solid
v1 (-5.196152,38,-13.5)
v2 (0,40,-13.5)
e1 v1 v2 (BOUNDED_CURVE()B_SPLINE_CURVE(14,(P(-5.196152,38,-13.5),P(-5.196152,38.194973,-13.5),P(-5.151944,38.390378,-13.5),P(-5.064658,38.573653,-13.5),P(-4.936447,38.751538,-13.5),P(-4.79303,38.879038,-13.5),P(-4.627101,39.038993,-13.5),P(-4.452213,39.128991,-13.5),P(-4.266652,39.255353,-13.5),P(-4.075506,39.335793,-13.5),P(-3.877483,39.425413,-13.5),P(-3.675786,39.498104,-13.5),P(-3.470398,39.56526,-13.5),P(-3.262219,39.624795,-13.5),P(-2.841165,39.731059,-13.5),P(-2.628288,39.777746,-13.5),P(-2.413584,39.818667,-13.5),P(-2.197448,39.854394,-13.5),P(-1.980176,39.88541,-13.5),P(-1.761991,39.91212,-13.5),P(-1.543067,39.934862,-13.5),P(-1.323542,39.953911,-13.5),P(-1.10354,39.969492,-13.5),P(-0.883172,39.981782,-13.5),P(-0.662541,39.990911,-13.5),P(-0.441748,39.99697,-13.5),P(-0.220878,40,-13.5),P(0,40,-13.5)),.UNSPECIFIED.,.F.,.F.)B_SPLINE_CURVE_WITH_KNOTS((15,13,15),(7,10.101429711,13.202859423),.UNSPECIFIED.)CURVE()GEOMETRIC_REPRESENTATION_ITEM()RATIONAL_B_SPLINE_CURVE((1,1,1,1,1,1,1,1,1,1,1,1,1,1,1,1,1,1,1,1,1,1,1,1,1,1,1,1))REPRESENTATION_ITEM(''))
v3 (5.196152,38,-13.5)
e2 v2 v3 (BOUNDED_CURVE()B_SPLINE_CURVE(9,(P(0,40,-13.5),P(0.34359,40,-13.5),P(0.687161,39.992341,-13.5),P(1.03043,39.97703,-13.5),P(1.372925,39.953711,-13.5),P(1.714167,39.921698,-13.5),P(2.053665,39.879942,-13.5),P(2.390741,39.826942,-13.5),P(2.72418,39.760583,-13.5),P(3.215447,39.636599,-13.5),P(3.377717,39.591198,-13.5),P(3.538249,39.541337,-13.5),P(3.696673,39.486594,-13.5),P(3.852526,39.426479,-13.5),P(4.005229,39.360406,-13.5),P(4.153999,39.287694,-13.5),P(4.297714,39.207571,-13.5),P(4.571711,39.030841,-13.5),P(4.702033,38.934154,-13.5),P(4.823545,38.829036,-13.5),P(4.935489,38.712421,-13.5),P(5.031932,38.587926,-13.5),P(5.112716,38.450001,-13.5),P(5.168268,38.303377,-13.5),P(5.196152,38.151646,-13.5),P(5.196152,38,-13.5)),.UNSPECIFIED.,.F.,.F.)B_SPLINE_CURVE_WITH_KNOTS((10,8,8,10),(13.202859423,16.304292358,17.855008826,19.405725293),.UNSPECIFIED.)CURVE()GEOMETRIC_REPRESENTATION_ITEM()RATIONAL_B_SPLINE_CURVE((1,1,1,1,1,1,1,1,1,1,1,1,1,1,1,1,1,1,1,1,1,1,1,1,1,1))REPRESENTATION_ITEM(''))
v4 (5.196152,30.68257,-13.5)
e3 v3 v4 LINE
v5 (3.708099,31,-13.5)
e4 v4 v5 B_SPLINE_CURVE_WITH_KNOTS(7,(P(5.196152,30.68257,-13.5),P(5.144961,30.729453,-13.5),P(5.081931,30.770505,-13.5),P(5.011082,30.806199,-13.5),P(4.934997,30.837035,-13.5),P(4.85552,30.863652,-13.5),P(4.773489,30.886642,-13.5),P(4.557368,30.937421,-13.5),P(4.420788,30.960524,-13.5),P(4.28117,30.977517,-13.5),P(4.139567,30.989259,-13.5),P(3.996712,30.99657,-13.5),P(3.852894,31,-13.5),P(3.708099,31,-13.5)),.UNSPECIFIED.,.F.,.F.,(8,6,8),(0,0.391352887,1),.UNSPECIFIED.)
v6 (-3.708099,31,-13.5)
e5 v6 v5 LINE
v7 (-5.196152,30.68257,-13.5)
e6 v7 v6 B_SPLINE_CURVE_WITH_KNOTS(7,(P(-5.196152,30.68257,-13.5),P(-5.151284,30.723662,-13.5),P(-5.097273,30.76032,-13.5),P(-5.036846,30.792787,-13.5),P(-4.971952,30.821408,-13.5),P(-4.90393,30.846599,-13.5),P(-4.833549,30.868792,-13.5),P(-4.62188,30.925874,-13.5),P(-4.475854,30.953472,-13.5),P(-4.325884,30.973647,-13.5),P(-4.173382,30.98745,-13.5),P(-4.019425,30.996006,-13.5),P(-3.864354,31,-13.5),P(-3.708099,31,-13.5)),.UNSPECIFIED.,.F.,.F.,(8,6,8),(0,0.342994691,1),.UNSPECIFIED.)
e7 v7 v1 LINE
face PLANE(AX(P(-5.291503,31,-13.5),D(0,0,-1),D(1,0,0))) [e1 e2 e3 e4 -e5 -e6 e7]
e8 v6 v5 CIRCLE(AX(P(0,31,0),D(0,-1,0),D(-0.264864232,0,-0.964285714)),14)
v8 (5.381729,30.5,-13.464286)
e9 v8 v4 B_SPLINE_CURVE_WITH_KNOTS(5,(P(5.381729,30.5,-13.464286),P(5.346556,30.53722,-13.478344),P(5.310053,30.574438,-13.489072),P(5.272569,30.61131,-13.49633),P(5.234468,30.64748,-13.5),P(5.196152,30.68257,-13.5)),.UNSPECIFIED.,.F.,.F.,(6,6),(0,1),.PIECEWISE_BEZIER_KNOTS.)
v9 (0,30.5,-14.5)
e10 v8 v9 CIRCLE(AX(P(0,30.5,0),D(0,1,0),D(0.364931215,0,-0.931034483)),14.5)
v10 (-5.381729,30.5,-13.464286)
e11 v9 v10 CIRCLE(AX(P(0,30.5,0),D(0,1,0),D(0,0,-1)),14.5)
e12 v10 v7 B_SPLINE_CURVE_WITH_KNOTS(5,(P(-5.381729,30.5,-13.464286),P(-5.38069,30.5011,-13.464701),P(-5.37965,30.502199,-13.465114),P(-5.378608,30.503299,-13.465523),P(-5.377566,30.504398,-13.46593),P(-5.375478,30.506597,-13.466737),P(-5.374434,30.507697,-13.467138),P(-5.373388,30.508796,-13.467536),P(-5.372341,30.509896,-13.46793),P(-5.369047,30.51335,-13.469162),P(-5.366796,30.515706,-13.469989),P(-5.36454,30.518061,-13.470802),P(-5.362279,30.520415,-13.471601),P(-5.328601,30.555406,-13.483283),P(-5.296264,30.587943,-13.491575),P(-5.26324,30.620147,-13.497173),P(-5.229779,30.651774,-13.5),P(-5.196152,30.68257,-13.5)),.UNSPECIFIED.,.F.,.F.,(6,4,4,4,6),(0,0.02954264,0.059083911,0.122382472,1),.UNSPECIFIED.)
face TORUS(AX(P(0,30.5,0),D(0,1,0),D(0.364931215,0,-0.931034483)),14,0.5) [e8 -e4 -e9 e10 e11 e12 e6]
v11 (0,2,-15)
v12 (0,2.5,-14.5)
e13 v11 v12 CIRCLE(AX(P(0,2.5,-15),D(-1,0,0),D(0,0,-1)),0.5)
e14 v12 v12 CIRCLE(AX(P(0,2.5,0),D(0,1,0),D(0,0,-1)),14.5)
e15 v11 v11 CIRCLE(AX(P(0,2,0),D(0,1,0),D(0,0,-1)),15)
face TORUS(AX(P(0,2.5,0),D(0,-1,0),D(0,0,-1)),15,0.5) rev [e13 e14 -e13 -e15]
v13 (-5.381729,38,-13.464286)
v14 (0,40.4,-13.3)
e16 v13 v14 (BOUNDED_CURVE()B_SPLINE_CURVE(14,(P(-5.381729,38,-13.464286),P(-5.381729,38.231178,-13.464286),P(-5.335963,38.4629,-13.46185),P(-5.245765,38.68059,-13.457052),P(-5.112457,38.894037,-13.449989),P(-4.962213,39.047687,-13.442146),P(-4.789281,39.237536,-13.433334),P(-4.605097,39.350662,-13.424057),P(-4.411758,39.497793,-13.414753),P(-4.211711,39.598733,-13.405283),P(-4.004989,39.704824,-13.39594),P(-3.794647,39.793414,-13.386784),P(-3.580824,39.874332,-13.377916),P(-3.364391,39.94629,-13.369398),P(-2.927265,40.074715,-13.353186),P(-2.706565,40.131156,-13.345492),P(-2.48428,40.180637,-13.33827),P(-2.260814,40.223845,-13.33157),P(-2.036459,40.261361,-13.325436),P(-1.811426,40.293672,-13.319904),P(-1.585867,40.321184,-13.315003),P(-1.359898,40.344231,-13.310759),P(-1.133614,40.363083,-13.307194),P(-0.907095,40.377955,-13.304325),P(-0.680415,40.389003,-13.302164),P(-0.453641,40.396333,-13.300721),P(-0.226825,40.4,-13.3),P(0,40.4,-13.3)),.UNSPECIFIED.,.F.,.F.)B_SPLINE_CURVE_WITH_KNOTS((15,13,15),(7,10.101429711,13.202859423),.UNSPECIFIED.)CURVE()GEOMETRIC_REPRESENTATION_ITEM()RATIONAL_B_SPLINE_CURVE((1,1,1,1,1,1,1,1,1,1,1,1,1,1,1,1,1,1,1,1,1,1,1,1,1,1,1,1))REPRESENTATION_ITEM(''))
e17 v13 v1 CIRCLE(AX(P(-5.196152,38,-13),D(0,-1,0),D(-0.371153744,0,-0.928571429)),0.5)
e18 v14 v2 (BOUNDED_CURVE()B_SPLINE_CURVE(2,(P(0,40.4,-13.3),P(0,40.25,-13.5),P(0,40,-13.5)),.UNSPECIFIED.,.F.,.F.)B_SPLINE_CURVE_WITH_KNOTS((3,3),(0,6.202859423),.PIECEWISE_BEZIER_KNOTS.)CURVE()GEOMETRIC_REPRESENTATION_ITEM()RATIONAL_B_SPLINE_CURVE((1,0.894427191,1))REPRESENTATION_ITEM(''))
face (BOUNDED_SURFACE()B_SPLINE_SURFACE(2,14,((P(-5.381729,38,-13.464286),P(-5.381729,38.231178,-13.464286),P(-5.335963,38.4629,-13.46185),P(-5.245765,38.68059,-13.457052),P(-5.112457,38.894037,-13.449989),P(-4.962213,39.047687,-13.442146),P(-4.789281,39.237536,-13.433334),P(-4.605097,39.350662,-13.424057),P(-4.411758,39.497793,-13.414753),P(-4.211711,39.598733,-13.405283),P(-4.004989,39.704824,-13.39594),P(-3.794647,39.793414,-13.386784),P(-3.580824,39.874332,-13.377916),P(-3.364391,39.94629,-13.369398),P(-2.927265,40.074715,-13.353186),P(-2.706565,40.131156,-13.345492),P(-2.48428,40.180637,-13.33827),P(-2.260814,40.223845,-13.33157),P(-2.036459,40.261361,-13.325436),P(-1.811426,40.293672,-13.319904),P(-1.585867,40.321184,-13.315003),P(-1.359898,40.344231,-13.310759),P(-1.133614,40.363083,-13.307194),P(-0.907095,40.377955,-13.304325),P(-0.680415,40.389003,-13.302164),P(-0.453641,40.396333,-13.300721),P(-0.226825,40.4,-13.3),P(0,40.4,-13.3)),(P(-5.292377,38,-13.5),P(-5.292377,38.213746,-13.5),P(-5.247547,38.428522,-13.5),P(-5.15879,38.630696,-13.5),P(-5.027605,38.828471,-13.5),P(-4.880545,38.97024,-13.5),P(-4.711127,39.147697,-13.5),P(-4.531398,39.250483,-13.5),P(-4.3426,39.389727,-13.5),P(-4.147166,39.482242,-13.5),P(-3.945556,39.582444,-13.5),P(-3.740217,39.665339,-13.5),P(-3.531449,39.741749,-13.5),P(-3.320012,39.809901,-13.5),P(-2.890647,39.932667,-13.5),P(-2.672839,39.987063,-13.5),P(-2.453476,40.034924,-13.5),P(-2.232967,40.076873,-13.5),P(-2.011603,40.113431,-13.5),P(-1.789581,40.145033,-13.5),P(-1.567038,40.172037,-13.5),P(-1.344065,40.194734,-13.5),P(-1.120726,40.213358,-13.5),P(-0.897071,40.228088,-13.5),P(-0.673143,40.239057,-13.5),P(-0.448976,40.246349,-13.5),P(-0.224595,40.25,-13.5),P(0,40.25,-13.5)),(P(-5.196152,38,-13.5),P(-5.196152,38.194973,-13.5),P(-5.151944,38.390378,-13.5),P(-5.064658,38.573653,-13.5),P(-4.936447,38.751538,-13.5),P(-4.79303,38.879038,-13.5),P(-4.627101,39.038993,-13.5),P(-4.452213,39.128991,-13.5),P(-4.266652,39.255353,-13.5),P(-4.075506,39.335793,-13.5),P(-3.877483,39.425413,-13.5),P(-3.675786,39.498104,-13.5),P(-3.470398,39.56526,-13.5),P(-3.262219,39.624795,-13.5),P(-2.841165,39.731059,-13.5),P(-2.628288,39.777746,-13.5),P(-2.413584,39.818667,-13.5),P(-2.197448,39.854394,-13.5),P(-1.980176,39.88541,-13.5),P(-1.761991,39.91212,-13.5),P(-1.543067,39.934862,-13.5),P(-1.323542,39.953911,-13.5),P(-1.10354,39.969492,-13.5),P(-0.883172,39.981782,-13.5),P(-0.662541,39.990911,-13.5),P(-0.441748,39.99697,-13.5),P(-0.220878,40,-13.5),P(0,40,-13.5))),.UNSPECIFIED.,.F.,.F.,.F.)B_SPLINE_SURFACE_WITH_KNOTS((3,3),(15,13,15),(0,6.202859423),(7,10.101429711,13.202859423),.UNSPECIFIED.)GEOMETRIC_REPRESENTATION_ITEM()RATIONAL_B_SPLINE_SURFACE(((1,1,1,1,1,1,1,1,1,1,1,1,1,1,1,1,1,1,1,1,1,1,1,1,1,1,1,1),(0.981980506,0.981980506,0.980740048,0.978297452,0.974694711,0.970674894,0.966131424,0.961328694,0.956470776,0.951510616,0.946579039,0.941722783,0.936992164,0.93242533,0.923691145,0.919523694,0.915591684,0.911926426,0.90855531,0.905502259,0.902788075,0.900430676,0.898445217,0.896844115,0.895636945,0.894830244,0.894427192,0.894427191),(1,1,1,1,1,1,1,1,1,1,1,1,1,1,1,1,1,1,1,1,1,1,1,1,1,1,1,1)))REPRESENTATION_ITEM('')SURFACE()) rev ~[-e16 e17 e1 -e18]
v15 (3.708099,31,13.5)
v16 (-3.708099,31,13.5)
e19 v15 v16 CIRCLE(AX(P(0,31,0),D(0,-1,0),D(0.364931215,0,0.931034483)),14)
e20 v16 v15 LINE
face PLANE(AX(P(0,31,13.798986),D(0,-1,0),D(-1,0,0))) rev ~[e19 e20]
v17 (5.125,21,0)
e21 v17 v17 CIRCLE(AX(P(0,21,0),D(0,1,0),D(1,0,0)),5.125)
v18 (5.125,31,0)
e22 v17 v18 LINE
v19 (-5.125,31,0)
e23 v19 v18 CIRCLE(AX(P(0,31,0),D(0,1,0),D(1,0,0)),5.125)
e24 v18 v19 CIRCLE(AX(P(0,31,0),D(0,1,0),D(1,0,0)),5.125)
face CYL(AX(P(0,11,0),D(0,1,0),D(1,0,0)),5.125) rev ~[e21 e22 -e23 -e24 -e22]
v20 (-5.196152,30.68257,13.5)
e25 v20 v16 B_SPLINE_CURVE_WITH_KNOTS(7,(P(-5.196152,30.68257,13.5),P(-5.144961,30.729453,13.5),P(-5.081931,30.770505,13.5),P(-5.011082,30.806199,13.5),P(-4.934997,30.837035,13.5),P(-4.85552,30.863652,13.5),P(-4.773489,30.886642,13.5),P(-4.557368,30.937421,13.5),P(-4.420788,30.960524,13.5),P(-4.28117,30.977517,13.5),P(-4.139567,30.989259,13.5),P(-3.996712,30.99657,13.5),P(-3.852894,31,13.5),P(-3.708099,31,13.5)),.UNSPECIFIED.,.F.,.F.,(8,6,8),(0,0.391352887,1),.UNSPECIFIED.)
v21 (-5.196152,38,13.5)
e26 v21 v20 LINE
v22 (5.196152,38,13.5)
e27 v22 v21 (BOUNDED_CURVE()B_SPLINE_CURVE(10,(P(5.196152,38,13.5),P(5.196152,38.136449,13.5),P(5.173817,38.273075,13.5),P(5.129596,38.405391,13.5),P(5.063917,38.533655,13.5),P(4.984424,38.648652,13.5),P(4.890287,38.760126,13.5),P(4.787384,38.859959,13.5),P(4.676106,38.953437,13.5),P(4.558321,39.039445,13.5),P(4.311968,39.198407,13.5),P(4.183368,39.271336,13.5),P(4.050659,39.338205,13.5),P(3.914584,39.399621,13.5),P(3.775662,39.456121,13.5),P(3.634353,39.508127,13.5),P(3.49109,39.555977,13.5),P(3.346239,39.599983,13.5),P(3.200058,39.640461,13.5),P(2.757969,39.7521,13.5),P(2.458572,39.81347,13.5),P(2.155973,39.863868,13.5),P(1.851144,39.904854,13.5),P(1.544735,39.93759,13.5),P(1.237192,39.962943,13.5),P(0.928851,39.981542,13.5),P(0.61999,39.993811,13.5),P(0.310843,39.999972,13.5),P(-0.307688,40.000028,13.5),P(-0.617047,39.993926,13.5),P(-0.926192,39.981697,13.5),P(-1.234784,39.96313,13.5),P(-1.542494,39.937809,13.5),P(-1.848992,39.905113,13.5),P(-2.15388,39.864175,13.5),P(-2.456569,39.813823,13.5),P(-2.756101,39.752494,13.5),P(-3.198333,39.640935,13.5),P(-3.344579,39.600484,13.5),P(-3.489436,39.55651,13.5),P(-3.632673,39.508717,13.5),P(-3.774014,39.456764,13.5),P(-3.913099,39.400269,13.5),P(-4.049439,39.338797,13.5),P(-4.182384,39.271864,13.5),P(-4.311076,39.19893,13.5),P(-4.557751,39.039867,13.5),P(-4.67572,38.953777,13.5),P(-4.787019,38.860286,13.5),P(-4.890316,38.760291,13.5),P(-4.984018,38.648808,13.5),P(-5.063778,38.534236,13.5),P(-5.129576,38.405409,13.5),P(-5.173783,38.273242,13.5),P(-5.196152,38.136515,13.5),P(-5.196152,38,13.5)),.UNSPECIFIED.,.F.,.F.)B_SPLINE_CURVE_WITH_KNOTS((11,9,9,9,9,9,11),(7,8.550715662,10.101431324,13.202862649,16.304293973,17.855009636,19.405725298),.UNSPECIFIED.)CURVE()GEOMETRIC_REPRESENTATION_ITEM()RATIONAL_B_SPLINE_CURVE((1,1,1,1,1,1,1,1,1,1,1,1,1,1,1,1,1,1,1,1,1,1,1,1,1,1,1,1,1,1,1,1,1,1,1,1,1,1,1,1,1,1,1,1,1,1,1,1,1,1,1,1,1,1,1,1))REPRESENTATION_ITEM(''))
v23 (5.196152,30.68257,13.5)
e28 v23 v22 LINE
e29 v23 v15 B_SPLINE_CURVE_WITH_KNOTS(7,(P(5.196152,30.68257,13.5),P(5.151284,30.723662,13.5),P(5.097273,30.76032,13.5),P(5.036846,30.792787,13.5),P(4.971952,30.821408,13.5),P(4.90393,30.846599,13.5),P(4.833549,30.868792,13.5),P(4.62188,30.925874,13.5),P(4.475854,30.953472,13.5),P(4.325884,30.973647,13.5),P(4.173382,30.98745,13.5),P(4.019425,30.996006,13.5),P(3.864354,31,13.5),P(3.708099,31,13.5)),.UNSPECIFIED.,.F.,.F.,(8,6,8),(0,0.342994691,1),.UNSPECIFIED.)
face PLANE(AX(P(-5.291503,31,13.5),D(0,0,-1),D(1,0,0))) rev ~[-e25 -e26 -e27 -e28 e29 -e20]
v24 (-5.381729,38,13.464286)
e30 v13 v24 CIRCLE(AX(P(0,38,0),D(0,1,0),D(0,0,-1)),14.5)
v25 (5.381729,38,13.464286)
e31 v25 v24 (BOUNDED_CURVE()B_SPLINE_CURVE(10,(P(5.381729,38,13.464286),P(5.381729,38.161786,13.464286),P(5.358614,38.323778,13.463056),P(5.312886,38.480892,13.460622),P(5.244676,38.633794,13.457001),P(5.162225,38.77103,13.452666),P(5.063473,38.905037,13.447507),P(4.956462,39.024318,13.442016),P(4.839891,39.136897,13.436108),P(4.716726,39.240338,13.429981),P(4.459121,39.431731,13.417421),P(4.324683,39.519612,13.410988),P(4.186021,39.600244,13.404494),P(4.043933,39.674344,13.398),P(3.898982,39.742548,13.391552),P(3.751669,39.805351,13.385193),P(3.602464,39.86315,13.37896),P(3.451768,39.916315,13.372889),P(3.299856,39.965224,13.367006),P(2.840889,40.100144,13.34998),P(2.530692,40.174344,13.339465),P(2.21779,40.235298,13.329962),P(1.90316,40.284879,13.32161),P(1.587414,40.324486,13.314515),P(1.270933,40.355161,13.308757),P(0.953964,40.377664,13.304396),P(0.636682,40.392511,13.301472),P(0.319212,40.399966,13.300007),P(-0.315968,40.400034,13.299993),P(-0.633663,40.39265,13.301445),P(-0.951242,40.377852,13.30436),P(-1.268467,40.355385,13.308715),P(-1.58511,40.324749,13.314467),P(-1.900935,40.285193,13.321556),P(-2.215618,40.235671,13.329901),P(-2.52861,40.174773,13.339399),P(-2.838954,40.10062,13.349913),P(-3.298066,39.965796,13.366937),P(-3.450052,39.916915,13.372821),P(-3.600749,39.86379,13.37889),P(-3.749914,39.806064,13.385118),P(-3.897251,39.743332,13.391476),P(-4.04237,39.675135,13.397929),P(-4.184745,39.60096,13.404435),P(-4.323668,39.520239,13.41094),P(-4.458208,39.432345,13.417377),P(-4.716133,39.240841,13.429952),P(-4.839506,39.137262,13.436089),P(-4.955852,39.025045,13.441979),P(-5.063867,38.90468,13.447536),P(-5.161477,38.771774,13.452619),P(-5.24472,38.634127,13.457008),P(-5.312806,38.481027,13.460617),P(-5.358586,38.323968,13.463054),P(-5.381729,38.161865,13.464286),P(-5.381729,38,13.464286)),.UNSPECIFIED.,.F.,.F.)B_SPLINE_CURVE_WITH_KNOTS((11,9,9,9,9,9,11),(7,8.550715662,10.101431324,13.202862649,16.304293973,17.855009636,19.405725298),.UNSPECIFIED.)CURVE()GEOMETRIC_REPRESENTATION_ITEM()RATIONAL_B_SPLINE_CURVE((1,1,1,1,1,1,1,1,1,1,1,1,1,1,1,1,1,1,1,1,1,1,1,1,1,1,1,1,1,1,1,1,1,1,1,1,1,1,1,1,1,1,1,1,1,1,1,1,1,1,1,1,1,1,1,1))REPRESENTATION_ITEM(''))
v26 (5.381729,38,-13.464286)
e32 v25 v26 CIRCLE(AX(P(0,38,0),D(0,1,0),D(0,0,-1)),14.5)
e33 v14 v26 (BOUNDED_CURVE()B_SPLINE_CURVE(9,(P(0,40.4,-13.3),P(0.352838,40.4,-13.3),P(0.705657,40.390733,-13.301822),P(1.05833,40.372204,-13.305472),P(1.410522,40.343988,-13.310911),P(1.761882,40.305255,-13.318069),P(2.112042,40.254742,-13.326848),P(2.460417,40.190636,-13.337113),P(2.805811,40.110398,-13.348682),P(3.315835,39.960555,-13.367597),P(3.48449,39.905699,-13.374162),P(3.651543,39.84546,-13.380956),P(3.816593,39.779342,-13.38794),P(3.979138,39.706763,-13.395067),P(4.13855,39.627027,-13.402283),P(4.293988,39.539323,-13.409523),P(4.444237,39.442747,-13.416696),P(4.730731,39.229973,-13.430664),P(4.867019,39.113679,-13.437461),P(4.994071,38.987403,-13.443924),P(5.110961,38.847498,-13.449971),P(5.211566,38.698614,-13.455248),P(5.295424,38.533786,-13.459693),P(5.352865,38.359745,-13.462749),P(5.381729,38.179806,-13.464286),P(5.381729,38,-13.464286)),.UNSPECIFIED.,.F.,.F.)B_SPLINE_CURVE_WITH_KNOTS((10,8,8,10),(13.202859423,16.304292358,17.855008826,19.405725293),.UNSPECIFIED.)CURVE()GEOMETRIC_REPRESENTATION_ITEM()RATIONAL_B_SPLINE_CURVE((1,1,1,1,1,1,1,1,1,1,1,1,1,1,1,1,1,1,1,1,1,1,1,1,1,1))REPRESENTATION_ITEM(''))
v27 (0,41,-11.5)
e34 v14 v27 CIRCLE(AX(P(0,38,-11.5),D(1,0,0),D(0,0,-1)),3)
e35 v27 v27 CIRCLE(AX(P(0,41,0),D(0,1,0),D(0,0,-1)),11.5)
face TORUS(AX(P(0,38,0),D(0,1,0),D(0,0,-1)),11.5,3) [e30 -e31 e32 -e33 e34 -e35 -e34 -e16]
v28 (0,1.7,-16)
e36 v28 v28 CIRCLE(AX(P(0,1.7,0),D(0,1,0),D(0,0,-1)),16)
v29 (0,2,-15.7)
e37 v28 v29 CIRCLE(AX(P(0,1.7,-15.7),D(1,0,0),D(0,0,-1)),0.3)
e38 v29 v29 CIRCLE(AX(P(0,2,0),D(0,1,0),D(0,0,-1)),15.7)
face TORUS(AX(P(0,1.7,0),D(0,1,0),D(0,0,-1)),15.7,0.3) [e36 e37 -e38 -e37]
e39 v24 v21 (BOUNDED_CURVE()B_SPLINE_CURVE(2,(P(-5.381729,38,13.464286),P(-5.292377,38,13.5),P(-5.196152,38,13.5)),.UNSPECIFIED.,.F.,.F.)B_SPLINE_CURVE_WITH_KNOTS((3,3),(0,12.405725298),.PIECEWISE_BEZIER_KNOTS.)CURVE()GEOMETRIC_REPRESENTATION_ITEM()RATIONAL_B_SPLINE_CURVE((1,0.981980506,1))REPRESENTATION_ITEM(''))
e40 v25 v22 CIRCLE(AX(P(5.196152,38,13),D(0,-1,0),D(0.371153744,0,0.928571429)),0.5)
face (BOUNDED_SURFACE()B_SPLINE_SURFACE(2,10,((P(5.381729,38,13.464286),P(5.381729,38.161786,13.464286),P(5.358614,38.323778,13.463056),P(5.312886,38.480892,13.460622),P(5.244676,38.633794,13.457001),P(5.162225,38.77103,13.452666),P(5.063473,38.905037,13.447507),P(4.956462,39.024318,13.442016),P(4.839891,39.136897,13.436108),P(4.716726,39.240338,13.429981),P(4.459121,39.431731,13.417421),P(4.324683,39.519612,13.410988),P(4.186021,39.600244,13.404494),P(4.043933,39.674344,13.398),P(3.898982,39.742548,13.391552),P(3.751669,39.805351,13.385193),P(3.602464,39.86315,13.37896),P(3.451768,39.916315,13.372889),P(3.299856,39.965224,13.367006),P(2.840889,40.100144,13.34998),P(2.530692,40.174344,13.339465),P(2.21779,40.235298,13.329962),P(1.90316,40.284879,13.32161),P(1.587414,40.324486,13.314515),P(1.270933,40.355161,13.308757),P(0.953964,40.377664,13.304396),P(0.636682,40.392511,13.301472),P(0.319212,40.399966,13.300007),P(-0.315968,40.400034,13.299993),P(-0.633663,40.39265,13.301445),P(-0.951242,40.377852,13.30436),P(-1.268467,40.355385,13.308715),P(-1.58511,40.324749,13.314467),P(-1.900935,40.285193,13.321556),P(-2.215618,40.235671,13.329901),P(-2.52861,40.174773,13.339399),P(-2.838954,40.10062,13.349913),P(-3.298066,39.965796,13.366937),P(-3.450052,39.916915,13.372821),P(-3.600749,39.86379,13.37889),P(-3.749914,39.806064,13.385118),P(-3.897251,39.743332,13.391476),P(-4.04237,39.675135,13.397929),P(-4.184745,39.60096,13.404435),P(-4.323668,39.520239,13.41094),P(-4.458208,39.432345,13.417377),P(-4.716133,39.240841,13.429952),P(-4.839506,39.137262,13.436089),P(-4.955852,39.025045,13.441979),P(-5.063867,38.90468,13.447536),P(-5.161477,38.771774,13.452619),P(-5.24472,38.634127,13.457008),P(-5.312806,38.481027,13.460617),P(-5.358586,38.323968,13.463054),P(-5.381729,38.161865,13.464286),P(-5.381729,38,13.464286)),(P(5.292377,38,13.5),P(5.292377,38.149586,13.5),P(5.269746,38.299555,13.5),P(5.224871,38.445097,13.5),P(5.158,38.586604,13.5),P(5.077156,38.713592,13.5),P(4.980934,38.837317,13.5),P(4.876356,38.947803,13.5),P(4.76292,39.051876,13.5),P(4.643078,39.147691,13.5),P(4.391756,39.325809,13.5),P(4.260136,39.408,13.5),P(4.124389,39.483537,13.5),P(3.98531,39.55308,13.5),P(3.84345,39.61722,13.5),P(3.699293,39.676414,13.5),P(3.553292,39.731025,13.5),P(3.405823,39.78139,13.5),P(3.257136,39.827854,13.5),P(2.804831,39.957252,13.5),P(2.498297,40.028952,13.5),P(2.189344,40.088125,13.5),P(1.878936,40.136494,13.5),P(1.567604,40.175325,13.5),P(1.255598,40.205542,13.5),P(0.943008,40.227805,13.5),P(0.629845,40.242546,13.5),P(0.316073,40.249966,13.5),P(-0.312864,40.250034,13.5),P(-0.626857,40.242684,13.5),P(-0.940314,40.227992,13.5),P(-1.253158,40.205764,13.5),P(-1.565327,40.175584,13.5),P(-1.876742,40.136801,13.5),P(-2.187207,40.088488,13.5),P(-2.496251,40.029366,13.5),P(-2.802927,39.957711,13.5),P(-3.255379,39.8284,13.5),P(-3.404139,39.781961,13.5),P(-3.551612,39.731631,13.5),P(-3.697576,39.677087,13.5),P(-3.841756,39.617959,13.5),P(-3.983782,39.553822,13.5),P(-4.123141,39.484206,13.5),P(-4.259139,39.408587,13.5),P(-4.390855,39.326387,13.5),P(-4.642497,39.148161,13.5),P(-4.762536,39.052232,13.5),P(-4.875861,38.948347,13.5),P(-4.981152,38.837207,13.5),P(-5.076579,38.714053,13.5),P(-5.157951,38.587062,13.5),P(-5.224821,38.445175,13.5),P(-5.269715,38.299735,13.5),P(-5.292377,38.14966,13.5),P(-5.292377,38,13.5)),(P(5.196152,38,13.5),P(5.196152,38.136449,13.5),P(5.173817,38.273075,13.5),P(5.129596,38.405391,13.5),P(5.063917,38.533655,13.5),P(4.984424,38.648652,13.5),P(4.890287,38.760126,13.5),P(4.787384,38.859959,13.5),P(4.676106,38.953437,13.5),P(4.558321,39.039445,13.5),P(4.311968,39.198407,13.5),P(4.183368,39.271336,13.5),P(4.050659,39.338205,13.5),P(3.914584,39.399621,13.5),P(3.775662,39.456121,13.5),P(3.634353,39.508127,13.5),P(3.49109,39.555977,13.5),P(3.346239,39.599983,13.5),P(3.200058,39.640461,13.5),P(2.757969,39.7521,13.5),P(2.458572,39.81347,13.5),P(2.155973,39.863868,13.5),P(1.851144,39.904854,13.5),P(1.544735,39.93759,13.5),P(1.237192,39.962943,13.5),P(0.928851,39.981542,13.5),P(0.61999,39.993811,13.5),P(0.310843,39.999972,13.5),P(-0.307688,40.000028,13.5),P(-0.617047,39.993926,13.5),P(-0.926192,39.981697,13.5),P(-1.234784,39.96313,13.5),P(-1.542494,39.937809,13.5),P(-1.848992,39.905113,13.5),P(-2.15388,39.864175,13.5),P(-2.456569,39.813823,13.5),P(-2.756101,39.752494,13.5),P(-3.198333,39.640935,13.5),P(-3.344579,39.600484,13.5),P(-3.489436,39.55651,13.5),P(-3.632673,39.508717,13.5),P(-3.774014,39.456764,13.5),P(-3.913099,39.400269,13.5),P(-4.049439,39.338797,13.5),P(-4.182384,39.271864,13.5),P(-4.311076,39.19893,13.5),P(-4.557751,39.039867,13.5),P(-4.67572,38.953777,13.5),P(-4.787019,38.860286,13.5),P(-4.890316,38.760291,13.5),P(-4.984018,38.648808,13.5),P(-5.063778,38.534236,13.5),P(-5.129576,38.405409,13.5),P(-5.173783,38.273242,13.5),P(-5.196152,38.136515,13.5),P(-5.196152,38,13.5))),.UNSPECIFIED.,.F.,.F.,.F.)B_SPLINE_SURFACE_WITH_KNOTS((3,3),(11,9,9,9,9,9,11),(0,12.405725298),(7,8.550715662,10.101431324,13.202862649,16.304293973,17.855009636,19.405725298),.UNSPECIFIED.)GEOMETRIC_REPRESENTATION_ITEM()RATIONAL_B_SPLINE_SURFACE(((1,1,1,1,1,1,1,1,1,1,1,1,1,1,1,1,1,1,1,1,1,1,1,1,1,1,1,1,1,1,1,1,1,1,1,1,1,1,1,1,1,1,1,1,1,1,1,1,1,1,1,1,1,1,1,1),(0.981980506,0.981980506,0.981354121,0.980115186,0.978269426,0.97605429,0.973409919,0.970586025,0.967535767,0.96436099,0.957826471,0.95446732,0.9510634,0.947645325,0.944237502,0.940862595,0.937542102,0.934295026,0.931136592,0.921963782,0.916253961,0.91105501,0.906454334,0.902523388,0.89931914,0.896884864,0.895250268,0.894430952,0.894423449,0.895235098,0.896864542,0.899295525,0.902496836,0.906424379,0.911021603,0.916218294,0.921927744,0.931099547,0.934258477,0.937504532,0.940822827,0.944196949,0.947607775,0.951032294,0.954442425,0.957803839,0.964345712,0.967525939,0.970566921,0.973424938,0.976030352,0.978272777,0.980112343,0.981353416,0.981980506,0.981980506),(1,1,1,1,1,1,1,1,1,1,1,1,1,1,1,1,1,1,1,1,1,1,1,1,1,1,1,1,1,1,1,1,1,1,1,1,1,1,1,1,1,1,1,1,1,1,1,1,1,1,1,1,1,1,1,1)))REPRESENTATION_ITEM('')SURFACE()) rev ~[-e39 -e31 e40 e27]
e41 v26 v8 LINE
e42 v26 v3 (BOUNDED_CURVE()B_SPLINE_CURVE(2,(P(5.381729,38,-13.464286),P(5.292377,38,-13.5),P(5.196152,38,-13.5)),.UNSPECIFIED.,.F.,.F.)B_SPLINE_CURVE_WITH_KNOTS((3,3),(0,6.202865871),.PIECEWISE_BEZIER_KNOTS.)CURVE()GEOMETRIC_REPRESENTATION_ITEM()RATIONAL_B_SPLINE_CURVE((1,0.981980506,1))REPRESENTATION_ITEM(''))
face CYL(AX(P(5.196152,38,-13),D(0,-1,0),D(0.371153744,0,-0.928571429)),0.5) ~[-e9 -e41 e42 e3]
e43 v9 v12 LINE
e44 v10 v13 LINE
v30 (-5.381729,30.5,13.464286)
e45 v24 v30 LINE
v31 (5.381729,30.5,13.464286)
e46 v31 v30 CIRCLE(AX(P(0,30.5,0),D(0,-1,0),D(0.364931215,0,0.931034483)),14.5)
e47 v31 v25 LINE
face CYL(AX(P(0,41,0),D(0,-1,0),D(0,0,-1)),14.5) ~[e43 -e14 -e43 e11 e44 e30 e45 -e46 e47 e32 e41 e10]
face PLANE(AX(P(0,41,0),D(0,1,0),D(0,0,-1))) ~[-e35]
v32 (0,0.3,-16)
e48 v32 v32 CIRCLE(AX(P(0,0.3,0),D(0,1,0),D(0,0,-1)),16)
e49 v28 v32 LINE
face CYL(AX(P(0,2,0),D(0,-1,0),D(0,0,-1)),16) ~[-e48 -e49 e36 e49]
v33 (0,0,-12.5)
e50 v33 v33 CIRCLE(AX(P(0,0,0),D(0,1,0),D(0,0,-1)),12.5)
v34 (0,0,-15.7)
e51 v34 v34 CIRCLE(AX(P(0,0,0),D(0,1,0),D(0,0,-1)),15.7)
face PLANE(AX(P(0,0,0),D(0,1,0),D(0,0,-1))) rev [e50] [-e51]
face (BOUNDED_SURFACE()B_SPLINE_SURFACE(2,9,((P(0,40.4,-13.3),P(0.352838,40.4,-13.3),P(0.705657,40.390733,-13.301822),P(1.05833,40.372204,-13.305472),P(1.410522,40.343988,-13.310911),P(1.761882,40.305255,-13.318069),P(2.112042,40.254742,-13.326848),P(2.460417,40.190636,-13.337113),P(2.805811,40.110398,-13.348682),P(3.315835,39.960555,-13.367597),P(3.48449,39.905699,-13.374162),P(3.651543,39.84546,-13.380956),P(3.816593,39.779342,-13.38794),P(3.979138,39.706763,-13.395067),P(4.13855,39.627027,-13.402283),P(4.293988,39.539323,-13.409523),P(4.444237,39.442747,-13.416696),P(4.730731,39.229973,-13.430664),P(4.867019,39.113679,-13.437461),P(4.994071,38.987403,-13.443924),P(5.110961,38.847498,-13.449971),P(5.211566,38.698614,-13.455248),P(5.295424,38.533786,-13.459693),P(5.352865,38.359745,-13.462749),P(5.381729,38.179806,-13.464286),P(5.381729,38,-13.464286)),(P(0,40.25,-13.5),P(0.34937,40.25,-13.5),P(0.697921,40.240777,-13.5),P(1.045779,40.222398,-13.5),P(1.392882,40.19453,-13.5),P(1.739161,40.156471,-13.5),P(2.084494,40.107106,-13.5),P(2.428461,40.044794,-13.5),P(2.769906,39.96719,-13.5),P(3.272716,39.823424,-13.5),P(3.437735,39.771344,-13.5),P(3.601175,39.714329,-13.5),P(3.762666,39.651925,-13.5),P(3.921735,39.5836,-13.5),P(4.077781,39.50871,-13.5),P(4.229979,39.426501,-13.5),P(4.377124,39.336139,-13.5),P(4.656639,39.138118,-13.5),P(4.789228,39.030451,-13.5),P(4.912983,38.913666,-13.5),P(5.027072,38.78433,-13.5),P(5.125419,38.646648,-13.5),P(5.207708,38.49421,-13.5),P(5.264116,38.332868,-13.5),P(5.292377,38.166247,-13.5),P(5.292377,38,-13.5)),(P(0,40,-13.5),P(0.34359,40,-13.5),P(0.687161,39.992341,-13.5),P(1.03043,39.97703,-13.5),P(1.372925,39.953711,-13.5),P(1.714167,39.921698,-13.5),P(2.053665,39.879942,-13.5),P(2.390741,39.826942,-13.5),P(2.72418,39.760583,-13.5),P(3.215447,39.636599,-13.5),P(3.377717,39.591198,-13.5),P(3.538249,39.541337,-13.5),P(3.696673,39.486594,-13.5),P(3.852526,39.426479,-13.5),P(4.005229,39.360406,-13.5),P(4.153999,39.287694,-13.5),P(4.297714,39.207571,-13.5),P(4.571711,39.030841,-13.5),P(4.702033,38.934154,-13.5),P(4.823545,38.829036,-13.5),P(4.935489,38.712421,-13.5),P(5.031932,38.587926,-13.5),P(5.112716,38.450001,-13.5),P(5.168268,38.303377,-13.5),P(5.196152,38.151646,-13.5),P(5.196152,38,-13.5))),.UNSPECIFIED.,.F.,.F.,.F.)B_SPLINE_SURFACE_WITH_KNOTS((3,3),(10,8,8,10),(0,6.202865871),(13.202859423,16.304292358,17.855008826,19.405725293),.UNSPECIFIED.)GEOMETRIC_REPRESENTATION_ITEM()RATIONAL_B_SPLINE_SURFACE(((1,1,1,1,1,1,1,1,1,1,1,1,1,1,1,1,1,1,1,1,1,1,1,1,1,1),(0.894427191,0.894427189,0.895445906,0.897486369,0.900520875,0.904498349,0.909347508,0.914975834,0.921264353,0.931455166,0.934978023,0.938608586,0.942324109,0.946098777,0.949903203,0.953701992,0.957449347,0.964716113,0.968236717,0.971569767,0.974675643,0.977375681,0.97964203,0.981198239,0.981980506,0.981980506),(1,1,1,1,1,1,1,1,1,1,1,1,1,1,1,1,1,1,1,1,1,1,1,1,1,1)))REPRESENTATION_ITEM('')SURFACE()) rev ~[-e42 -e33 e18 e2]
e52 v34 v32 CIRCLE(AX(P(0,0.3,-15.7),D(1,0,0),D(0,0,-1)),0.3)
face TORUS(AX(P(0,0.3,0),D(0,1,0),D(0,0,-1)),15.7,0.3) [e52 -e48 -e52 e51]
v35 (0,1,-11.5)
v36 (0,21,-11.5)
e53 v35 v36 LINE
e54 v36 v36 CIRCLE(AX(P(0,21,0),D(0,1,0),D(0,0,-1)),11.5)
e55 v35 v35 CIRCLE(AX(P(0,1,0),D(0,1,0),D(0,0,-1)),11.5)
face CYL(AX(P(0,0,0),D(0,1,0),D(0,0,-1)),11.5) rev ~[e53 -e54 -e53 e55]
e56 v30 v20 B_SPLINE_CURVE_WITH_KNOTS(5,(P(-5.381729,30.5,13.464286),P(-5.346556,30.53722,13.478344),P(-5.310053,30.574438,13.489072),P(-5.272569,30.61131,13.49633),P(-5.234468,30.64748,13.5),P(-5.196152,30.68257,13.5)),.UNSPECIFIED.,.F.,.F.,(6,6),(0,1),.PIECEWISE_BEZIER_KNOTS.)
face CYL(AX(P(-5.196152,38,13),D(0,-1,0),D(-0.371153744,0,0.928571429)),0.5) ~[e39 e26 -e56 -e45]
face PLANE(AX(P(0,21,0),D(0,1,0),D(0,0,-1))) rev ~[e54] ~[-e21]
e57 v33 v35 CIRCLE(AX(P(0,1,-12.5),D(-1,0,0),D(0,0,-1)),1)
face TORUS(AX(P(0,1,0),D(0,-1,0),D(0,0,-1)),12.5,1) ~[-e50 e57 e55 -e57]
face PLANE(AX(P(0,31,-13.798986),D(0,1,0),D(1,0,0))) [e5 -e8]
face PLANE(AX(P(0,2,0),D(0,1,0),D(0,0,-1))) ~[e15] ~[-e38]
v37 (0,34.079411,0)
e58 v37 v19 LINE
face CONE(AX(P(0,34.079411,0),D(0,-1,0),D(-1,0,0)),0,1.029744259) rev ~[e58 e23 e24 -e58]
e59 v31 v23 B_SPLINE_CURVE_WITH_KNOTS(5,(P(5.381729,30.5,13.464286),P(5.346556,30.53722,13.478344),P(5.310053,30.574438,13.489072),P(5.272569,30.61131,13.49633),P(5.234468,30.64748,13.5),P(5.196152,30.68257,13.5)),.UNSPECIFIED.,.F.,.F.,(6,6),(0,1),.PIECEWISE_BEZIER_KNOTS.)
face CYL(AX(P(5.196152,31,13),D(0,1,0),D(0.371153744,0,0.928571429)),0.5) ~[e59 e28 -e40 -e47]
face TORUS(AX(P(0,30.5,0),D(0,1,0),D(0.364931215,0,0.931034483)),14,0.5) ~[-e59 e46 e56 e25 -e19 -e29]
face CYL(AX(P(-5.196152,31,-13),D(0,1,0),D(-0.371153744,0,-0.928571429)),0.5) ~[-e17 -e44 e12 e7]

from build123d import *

# Parameters (mm, degrees)
PERFORADOR_PARA_ROSCAR_HELICOIL_DE_M121_D     = 10.25
PERFORADOR_PARA_ROSCAR_HELICOIL_DE_M121_DEPTH = 10
PERFORADOR_PARA_ROSCAR_HELICOIL_DE_M121_TIP   = 3.079410673
REDONDEO1_R                                   = 1
REDONDEO2_R                                   = 0.3
REDONDEO3_R                                   = 0.5
REDONDEO4_R                                   = 3
CORTAR_EXTRUIR1_START                         = -10
CORTAR_EXTRUIR1_DEPTH                         = 10
REDONDEO5_R                                   = 0.5


with BuildPart() as part:
    # Croquis1 → Revolución1 (revolve)
    with BuildSketch(Plane.XY, mode=Mode.PRIVATE) as revoluci_n1_sk:
        Polygon((0, 41), (14.5, 41), (14.5, 2), (16, 2), (16, 0), (14.5, 0), (11.5, 0), (11.5, 21), (0, 21), align=None)
    revolve(revoluci_n1_sk.sketch.rotate(Axis((0, 0, 0), (0, 1, 0)), 90), axis=Axis((0, 0, 0), (0, 1, 0)))

    # Perforador para roscar Helicoil de M121
    with Locations(Plane(origin=(0, 21, 0), x_dir=(-1, 0, 0), z_dir=(0, -1, 0))):
        with Locations((0, 0)):
            Hole(PERFORADOR_PARA_ROSCAR_HELICOIL_DE_M121_D / 2, depth=PERFORADOR_PARA_ROSCAR_HELICOIL_DE_M121_DEPTH)
            with Locations((0, 0, -(PERFORADOR_PARA_ROSCAR_HELICOIL_DE_M121_DEPTH + PERFORADOR_PARA_ROSCAR_HELICOIL_DE_M121_TIP / 2))):  # 118° drill point
                Cone(0, PERFORADOR_PARA_ROSCAR_HELICOIL_DE_M121_D / 2, PERFORADOR_PARA_ROSCAR_HELICOIL_DE_M121_TIP, mode=Mode.SUBTRACT)

    # Redondeo1
    redondeo1_edges = [part.edges().sort_by_distance(p)[0] for p in [
        (0, 0, 11.5),
    ]]
    fillet(redondeo1_edges, radius=REDONDEO1_R)

    # Redondeo2
    redondeo2_edges = [part.edges().sort_by_distance(p)[0] for p in [
        (0, 0, 16),
        (0, 2, 16),
    ]]
    fillet(redondeo2_edges, radius=REDONDEO2_R)

    # Redondeo3
    redondeo3_edges = [part.edges().sort_by_distance(p)[0] for p in [
        (0, 2, 14.5),
    ]]
    fillet(redondeo3_edges, radius=REDONDEO3_R)

    # Redondeo4
    redondeo4_edges = [part.edges().sort_by_distance(p)[0] for p in [
        (0, 41, 14.5),
    ]]
    fillet(redondeo4_edges, radius=REDONDEO4_R)

    # Croquis5 → Cortar-Extruir1 (cut)
    with BuildSketch(Plane(origin=(0, 41, 0), x_dir=(1, 0, 0), z_dir=(0, 1, 0)).offset(CORTAR_EXTRUIR1_START)):
        with BuildLine():
            Line((-5.291502622, 13.5), (5.291502622, 13.5))
            ThreePointArc((5.291502622, 13.5), (0, 14.5), (-5.291502622, 13.5))
        make_face()
        with BuildLine():
            Line((-5.291502622, -13.5), (5.291502622, -13.5))
            ThreePointArc((5.291502622, -13.5), (0, -14.5), (-5.291502622, -13.5))
        make_face()
    extrude(amount=CORTAR_EXTRUIR1_DEPTH, mode=Mode.SUBTRACT)

    # Redondeo5
    redondeo5_edges = [part.edges().sort_by_distance(p)[0] for p in [
        (5.291502622, 34.5, 13.5),
        (-5.291502622, 34.5, -13.5),
        (-5.291502622, 34.5, -13.5),
        (-2.692582404, 31, -14.247806849),
        (5.291502622, 34.5, -13.5),
        (5.291502622, 34.5, 13.5),
        (0, 31, 14.5),
        (-5.291502622, 34.5, 13.5),
    ]]
    fillet(redondeo5_edges, radius=REDONDEO5_R)


solid = part.part
